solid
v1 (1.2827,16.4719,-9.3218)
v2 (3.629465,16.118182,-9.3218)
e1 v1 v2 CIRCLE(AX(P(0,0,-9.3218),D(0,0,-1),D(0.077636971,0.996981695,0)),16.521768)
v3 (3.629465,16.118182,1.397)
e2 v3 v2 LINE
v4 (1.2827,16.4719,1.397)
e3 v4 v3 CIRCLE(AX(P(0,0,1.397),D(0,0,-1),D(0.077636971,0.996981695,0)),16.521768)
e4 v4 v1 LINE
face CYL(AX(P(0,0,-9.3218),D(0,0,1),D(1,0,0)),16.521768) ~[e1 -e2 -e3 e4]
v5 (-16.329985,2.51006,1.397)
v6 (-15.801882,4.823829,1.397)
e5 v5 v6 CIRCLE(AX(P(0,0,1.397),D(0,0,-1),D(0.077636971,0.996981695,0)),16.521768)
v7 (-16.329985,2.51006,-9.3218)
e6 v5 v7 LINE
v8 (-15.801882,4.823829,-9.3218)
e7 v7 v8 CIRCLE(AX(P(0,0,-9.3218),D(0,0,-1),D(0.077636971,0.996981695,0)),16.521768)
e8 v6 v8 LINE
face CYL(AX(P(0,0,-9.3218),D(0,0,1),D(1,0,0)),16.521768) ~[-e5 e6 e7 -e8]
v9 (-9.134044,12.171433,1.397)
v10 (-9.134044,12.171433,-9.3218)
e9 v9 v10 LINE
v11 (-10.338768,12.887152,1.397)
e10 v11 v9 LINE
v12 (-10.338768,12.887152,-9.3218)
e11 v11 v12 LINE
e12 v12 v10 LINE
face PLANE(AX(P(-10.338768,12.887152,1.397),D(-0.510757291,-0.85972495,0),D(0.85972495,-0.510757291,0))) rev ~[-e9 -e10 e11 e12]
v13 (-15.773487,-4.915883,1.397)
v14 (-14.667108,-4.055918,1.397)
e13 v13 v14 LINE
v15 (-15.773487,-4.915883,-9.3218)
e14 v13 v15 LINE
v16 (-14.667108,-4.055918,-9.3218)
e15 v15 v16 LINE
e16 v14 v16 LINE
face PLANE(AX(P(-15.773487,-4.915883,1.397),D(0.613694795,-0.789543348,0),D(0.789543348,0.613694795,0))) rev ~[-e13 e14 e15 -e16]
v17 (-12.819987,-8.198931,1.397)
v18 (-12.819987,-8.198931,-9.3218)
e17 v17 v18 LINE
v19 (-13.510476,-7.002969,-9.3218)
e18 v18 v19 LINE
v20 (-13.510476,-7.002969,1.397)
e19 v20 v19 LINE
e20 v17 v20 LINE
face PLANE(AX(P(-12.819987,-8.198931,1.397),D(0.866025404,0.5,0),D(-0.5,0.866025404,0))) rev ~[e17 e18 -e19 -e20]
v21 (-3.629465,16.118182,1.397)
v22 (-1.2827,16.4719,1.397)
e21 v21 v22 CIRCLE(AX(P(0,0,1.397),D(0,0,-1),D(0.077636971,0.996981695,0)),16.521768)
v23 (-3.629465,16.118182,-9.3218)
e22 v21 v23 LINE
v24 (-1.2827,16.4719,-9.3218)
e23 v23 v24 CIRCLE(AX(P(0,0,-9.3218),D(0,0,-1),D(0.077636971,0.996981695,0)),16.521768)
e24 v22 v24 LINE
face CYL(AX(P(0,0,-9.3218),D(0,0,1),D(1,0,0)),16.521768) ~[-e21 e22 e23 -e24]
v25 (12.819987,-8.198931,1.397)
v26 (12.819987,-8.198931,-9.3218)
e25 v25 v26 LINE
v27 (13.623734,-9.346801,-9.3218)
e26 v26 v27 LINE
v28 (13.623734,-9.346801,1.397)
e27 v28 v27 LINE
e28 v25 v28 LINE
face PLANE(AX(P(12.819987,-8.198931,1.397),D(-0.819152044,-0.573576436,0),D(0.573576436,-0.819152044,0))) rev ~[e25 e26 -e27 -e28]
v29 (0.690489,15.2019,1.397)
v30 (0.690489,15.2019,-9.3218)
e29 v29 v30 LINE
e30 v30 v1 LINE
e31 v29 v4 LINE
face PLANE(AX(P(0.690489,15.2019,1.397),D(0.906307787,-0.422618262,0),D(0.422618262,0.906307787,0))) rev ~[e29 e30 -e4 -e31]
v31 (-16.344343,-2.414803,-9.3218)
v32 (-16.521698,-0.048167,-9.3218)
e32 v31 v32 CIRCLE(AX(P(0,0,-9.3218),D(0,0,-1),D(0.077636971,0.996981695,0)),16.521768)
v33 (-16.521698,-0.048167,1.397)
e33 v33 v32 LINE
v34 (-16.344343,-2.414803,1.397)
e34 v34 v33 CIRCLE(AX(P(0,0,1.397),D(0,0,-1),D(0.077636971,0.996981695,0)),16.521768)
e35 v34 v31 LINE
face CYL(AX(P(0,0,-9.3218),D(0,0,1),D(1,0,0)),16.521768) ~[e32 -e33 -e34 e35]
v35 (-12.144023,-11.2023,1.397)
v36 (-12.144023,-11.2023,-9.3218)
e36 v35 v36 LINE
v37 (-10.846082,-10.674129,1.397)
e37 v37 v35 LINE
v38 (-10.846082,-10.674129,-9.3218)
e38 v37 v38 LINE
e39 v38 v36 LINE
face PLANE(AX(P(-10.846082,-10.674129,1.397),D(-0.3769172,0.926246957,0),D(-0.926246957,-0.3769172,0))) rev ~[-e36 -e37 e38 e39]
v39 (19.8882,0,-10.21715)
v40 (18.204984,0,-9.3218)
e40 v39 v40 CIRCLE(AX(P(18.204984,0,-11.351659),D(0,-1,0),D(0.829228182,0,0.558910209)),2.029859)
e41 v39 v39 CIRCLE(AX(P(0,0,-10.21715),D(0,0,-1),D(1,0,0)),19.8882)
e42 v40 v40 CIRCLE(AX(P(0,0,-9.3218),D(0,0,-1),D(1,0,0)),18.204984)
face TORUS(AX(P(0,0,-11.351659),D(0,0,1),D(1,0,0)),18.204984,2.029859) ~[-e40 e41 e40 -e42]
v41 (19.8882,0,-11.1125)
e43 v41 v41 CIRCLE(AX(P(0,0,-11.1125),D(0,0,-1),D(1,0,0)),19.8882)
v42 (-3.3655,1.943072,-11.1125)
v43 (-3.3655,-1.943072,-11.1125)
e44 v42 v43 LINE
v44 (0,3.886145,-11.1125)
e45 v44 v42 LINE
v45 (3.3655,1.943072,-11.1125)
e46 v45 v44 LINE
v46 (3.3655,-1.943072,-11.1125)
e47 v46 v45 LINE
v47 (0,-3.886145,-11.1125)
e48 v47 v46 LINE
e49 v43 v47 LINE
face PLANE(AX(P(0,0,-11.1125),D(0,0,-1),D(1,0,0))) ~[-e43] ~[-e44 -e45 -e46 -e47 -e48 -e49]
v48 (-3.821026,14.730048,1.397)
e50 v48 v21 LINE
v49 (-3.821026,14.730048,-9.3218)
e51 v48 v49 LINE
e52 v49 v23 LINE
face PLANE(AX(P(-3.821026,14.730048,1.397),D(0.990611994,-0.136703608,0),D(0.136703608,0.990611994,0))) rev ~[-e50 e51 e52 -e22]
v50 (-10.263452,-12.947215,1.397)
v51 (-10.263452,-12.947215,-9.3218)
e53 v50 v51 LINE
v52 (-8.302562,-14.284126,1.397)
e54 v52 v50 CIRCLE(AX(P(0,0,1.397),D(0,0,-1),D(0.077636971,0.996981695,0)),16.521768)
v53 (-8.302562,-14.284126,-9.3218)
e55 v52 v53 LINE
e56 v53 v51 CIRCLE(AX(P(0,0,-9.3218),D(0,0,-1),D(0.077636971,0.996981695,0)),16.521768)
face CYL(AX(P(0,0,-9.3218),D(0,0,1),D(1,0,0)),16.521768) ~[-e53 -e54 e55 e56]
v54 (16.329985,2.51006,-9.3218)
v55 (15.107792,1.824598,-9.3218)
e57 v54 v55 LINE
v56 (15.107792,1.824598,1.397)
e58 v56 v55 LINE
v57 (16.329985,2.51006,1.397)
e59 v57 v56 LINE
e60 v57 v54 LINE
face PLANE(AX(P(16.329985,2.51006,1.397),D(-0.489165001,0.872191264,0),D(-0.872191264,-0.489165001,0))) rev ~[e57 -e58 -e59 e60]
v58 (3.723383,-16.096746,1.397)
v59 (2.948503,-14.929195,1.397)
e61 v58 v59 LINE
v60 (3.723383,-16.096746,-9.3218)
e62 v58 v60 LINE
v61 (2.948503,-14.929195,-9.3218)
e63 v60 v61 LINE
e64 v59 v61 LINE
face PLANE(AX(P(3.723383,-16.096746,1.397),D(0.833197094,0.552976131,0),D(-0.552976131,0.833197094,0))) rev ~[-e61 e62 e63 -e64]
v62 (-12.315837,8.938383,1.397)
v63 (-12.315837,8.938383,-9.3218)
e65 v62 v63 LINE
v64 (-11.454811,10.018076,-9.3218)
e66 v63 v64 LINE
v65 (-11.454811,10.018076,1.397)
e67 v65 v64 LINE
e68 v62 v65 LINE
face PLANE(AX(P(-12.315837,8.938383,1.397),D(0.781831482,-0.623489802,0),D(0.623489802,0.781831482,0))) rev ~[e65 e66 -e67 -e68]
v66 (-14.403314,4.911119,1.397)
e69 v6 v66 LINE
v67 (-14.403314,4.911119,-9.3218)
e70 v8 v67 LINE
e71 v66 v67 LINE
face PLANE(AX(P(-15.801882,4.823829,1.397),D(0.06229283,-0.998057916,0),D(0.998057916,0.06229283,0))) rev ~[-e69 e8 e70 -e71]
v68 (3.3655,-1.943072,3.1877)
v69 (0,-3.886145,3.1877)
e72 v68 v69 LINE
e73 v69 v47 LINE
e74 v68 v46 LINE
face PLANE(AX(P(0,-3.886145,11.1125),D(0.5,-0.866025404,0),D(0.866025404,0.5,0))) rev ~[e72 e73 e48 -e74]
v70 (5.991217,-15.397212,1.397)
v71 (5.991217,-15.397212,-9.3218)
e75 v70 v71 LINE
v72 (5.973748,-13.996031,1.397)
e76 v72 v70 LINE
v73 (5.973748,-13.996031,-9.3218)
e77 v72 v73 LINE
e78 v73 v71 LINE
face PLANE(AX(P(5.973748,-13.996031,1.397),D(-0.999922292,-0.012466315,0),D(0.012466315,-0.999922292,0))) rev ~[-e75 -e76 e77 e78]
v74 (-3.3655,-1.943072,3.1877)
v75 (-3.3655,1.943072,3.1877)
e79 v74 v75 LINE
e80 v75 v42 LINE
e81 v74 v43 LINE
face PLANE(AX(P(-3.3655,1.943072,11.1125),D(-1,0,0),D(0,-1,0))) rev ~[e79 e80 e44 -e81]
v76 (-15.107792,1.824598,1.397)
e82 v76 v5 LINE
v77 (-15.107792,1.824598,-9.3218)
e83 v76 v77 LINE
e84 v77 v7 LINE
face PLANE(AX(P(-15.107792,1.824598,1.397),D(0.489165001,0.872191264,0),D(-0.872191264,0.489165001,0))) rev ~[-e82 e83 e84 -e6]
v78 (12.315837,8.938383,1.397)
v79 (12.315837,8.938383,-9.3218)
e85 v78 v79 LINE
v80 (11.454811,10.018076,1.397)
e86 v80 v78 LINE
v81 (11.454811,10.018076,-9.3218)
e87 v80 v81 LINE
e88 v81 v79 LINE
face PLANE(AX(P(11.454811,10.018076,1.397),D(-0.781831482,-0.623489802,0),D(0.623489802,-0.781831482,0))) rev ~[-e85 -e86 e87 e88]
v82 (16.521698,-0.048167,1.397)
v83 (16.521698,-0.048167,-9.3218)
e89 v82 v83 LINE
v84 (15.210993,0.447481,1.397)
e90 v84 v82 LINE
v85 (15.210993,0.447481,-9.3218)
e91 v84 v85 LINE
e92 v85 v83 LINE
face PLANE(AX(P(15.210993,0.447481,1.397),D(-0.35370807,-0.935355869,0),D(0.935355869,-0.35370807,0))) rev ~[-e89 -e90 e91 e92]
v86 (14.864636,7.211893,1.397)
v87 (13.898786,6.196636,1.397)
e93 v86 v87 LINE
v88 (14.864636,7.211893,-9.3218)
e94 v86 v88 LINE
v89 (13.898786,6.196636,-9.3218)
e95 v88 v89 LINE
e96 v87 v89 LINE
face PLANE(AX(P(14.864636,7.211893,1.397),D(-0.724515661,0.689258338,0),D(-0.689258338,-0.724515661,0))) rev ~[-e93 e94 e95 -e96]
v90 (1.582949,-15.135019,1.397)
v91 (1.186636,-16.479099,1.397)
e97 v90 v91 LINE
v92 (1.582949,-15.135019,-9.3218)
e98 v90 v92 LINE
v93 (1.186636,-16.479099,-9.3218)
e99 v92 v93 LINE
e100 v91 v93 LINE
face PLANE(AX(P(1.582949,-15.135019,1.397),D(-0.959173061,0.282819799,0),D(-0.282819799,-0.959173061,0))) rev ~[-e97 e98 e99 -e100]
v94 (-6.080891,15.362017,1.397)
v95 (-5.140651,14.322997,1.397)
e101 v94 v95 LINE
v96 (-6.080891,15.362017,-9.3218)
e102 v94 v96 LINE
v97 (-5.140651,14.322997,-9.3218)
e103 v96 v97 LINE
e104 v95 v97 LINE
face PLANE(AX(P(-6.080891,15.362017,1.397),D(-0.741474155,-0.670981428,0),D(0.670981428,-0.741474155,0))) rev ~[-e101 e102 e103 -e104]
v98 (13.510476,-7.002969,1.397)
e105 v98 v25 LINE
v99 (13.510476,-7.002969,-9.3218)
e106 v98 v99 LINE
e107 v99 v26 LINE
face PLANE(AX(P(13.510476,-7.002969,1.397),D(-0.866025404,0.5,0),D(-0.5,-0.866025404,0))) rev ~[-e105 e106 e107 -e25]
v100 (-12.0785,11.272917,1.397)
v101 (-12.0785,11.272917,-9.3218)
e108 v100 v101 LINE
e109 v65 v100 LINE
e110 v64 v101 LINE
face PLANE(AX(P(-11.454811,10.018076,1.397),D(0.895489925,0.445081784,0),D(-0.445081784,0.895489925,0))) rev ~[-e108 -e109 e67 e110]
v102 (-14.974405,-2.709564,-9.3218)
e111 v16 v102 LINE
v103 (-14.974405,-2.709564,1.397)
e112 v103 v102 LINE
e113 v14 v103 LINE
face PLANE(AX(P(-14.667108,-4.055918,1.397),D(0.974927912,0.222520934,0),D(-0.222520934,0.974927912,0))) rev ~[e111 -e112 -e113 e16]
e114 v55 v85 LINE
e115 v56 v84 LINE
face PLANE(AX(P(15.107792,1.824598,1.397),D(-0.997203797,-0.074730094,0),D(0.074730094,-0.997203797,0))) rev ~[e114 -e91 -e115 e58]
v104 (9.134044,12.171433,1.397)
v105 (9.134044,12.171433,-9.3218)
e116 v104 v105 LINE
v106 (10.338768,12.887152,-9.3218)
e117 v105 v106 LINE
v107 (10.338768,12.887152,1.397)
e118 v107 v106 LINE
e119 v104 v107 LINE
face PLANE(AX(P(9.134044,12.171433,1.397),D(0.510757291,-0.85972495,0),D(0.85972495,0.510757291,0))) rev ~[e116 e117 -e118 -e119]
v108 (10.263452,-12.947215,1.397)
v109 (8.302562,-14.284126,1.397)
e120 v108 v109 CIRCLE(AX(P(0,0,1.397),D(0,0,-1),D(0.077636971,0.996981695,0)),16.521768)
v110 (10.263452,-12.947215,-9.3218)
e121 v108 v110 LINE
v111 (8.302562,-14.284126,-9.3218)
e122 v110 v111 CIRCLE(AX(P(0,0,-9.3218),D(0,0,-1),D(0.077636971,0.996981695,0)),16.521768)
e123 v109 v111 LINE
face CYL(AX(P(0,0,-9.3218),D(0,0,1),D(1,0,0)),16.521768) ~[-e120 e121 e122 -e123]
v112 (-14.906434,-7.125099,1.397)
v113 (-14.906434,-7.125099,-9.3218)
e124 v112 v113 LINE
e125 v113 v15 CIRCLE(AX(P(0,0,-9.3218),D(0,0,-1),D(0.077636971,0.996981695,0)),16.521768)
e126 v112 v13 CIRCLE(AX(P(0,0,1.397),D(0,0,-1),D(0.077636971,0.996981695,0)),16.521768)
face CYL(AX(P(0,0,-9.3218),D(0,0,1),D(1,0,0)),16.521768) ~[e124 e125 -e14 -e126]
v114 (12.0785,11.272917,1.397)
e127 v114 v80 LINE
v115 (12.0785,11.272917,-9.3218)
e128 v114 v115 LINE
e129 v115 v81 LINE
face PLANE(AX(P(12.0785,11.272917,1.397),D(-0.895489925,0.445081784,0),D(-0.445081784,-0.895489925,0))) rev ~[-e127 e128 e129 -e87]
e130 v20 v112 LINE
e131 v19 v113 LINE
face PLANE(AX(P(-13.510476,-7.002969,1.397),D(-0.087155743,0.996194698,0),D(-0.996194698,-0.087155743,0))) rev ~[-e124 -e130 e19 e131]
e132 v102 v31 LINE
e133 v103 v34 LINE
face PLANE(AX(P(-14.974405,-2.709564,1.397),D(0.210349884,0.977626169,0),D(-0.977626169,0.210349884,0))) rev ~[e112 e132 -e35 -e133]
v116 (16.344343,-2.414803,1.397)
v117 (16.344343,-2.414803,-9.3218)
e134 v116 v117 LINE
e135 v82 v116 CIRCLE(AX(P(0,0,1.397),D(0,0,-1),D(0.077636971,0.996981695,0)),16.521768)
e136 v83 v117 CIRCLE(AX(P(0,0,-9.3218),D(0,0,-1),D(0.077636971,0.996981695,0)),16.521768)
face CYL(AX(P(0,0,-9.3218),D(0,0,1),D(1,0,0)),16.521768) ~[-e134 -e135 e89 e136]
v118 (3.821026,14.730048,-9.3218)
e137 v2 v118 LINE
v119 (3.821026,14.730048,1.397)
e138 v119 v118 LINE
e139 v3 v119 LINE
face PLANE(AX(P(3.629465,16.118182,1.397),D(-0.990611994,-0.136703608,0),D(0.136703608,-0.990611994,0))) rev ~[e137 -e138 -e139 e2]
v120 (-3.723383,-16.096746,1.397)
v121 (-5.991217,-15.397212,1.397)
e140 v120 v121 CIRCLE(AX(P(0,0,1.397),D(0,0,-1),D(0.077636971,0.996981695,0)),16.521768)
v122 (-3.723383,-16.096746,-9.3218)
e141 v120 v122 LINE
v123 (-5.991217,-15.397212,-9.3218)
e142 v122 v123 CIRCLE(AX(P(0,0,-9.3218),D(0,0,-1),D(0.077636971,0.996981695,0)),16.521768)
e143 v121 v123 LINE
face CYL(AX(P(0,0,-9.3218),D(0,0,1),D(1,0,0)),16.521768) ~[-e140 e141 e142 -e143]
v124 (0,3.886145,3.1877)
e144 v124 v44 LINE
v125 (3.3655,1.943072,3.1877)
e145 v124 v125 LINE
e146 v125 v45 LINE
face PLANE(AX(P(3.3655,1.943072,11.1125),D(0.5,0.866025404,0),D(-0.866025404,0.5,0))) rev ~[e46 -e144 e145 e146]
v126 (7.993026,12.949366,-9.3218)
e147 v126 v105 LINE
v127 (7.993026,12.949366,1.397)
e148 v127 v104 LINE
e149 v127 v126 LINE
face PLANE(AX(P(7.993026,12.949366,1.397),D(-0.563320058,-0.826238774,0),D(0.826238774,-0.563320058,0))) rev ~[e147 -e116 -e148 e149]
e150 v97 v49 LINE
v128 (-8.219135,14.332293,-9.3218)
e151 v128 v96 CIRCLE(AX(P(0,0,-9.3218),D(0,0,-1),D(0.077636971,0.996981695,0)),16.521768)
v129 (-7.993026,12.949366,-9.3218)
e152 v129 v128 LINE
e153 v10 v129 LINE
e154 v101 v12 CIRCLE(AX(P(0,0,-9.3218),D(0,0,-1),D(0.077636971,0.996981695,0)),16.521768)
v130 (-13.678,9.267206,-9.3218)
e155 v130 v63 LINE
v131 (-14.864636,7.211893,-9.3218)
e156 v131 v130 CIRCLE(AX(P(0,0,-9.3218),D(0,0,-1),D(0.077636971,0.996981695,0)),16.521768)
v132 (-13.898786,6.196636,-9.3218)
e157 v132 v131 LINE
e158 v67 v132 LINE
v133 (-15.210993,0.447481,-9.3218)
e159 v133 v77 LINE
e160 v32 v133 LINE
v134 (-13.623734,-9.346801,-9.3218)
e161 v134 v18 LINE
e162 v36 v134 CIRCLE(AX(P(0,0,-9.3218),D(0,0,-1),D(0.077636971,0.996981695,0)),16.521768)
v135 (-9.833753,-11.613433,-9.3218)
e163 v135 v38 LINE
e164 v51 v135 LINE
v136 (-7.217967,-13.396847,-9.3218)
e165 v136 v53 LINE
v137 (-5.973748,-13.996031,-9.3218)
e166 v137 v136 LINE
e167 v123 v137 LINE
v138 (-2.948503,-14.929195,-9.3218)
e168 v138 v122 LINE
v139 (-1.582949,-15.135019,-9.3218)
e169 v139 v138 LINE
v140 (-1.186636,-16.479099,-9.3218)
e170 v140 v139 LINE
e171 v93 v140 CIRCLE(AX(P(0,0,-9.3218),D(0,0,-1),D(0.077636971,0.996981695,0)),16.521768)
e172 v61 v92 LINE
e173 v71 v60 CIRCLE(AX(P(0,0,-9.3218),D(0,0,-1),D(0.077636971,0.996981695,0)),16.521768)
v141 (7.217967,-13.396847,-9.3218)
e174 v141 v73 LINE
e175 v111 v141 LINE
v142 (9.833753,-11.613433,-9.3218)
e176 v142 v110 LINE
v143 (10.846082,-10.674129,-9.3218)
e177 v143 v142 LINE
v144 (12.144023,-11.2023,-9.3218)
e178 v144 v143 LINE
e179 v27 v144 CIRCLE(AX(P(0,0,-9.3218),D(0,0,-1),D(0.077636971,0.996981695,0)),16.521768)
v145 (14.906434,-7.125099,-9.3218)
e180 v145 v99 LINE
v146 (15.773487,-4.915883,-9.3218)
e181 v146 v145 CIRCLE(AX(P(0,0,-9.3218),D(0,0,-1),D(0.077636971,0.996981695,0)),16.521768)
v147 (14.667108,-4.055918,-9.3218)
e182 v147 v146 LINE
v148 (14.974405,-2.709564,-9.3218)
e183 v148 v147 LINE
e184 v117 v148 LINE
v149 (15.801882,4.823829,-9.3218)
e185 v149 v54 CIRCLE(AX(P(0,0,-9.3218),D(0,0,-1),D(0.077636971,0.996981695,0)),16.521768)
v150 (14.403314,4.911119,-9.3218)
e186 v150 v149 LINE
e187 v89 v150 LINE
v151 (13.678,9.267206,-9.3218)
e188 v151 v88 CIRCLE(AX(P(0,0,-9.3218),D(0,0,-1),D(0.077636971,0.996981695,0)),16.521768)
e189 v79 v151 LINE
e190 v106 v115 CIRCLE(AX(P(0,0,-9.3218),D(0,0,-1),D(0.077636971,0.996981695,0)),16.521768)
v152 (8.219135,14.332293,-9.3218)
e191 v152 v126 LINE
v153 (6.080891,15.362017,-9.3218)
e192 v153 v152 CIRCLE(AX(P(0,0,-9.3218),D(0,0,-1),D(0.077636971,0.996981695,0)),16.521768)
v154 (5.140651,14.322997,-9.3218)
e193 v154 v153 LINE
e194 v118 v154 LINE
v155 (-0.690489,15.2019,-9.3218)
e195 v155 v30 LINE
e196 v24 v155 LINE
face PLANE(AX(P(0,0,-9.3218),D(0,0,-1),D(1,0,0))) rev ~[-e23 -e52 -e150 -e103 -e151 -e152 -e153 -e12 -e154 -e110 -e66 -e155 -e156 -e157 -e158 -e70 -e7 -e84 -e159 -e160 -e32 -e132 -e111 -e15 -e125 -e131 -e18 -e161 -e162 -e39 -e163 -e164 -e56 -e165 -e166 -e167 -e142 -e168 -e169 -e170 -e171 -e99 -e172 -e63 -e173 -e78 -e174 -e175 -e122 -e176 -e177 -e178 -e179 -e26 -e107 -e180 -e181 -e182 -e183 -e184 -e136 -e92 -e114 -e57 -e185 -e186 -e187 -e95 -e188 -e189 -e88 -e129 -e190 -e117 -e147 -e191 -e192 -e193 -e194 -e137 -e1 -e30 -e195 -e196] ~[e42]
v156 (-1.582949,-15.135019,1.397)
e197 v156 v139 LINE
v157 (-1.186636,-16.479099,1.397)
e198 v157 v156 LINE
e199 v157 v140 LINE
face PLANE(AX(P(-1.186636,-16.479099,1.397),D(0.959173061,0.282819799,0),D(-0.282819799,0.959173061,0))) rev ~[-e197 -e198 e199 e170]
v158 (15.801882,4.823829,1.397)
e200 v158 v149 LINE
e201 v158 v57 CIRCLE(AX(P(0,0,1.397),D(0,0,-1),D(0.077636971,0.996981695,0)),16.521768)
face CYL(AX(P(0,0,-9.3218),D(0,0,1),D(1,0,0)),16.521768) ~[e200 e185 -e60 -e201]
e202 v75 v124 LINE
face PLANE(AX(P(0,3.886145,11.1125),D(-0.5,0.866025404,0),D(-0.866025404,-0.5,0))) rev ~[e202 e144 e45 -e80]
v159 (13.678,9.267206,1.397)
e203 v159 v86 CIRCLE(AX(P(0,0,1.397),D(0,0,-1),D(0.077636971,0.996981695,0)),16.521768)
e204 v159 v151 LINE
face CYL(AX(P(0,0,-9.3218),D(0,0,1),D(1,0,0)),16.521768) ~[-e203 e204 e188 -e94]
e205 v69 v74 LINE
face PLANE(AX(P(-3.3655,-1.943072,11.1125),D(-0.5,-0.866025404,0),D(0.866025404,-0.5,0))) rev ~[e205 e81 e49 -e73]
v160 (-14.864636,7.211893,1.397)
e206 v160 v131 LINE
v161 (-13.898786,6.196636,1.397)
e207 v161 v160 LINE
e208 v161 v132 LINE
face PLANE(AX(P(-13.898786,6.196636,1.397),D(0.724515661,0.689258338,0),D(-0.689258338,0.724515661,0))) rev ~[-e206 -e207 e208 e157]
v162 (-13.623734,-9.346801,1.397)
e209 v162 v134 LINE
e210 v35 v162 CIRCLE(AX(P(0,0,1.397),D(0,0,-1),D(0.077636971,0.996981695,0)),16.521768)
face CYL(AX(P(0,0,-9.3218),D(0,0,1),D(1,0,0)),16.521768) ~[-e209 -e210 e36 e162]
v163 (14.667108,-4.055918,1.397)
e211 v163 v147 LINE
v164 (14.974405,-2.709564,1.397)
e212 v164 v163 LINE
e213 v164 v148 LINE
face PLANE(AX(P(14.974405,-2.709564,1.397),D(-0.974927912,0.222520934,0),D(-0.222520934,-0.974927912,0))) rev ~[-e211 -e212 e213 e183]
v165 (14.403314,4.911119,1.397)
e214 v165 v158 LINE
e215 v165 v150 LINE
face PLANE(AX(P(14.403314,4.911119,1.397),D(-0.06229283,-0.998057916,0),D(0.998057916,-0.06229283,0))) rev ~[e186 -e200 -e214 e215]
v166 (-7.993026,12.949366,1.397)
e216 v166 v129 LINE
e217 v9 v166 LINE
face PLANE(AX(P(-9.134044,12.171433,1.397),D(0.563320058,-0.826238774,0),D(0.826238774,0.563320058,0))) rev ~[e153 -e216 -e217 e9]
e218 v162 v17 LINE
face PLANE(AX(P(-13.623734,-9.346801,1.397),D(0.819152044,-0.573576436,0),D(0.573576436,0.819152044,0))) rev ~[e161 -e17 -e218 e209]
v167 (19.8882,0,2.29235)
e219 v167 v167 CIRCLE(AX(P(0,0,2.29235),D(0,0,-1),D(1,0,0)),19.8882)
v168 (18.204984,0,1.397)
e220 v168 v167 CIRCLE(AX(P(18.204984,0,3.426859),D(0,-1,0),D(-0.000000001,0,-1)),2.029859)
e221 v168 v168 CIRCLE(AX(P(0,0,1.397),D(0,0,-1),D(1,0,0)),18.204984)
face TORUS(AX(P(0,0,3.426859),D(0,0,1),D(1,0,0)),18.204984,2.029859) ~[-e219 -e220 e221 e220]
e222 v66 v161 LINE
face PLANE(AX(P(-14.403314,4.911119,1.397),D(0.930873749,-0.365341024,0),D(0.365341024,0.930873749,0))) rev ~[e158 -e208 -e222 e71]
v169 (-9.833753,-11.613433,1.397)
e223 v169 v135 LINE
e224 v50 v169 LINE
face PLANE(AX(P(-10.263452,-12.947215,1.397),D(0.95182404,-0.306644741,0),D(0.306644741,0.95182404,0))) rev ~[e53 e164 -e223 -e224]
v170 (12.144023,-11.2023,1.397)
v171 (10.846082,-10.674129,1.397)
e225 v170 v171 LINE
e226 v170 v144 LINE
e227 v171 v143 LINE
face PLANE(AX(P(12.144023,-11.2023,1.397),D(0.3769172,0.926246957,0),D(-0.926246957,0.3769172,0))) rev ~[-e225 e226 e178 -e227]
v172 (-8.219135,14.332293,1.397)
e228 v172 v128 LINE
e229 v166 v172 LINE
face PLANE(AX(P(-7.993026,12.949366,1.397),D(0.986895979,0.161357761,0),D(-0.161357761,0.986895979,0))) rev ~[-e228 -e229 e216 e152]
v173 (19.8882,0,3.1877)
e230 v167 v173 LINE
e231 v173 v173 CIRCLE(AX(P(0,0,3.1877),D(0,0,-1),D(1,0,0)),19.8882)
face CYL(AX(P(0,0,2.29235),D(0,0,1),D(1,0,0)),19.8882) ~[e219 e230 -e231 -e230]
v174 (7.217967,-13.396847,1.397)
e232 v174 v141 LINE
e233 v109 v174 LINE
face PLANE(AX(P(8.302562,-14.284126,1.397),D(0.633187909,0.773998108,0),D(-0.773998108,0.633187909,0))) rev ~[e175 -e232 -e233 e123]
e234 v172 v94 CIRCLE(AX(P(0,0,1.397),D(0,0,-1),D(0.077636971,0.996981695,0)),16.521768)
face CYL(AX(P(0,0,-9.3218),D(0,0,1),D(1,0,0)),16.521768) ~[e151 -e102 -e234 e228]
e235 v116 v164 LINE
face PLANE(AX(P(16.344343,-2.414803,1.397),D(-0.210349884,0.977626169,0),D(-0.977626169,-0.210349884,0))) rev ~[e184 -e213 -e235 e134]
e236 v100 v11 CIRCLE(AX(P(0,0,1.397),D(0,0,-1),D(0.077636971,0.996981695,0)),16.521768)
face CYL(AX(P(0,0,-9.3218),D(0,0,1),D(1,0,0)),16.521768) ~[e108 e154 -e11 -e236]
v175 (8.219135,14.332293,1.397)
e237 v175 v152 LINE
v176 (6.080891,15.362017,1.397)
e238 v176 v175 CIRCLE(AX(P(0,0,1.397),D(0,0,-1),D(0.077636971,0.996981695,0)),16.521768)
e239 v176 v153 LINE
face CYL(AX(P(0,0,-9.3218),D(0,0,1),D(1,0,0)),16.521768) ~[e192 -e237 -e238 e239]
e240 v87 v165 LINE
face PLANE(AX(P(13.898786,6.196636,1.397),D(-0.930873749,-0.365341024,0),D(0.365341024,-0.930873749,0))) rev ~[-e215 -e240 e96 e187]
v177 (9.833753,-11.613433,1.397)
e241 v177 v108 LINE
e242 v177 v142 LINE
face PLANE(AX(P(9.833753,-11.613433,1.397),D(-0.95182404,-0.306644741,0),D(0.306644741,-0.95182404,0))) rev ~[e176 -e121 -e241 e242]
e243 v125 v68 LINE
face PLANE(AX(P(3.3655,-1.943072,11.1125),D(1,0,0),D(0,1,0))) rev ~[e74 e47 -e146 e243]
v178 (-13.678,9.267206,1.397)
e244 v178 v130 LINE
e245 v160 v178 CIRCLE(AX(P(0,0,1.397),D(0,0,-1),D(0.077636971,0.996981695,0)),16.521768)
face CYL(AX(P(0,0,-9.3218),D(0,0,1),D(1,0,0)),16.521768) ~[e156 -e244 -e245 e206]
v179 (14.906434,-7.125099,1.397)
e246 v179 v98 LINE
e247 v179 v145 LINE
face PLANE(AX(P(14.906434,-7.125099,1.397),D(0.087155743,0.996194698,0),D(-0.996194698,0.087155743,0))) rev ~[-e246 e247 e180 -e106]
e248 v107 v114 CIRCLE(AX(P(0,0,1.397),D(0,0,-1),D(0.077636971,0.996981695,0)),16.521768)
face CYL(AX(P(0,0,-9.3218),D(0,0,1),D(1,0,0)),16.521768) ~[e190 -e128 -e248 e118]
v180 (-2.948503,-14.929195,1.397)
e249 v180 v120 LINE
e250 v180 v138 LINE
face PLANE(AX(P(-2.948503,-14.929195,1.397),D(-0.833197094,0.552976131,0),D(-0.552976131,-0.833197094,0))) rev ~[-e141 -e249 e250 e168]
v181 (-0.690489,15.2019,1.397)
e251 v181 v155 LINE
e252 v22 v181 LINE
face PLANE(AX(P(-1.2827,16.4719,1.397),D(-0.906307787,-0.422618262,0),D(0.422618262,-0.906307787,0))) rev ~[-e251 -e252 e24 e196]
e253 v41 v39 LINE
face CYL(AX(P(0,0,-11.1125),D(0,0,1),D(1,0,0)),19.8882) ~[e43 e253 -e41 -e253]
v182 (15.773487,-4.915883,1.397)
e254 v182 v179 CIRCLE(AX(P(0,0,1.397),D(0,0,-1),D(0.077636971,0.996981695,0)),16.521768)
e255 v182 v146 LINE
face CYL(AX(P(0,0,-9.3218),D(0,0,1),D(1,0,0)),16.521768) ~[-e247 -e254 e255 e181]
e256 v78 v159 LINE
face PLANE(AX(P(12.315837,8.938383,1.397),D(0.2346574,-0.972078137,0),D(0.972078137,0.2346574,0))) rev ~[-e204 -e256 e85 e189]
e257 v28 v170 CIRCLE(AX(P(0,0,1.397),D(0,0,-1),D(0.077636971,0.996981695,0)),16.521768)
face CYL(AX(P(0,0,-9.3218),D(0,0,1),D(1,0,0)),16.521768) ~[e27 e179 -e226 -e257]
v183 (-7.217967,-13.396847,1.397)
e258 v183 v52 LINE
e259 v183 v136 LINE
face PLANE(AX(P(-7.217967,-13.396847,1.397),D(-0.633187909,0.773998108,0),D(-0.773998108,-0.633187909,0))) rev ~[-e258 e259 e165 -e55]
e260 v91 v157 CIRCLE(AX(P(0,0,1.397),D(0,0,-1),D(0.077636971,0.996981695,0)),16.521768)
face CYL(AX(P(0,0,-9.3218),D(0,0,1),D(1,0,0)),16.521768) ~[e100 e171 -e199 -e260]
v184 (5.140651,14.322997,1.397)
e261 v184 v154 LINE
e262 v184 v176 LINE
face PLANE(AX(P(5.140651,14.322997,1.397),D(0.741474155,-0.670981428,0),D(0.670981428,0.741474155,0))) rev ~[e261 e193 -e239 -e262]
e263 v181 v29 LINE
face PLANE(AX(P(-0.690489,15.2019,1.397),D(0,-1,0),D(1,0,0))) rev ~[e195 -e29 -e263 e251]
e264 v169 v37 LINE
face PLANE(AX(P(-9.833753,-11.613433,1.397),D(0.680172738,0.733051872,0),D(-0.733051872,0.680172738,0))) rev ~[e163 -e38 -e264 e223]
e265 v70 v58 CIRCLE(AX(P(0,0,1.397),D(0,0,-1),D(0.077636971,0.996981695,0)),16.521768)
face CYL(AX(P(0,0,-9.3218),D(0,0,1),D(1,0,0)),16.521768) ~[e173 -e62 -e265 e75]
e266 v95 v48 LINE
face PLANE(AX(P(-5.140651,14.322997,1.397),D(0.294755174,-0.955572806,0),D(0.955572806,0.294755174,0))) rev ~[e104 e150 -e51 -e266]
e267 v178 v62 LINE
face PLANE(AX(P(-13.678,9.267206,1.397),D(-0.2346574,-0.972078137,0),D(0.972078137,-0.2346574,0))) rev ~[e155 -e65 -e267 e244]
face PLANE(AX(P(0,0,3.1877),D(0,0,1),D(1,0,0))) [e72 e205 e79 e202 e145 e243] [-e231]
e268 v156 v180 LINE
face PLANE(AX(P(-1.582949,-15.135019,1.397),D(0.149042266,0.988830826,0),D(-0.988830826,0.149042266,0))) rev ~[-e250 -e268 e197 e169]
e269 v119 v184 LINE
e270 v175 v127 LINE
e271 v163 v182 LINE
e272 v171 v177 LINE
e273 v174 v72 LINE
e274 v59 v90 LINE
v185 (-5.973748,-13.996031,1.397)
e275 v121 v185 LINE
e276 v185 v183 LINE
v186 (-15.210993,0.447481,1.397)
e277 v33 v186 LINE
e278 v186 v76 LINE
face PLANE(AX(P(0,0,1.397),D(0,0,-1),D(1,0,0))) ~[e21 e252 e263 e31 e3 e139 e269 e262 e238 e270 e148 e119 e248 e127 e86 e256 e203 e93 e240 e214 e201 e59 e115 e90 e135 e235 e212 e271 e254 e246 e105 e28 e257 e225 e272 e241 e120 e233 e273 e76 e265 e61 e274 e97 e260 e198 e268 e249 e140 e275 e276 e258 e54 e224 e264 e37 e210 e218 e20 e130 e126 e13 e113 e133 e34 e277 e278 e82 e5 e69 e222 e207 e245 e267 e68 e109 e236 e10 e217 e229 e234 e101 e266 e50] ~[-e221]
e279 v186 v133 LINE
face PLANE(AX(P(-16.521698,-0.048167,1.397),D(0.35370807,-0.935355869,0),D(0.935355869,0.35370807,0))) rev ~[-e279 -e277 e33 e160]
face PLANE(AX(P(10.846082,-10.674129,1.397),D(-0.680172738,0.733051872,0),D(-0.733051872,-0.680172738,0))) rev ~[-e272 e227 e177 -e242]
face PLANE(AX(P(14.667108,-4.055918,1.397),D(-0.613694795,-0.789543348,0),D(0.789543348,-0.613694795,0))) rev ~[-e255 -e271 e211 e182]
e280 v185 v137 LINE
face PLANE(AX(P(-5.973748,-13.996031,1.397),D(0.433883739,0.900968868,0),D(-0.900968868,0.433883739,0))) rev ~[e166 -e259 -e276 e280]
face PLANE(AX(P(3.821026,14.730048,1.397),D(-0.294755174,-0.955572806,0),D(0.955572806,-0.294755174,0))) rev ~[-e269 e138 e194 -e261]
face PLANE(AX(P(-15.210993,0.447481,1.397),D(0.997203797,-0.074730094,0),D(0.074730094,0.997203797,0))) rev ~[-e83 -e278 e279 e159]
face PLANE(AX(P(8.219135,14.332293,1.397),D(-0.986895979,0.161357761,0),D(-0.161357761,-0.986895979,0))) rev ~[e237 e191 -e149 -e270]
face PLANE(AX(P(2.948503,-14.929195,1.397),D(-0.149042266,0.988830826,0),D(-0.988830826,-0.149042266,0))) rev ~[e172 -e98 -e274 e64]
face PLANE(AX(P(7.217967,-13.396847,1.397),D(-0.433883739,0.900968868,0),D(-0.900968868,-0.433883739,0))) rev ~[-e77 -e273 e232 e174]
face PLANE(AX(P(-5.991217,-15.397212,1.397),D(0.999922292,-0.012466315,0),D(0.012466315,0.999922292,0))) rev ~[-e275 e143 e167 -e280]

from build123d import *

# Parameters (mm, degrees)
CUT_EXTRUDE1_START = 1.397
CUT_EXTRUDE1_DEPTH = 10.7188
CIRPATTERN1_COUNT  = 21
SKETCH4_R          = 1.5875
CUT_EXTRUDE2_DEPTH = 31.241836167
CUT_EXTRUDE3_DEPTH = 1.190625
CIRPATTERN2_COUNT  = 2
CIRPATTERN2_ANGLE  = 90
CUT_EXTRUDE4_DEPTH = 50.8
SKETCH8_R          = 12.7
CUT_EXTRUDE5_DEPTH = 50.8


with BuildPart() as part:
    # Sketch2 → Revolve1 (revolve)
    with BuildSketch(Plane(origin=(0, 0, 0), x_dir=(0, 0, -1), z_dir=(1, 0, 0)), mode=Mode.PRIVATE) as revolve1_sk:
        with BuildLine():
            Line((-11.1125, 3.175), (11.1125, 3.175))
            Line((11.1125, 3.175), (11.1125, 19.8882))
            Line((11.1125, 19.8882), (10.21715, 19.8882))
            ThreePointArc((10.21715, 19.8882), (9.559562343, 19.158250378), (9.3218, 18.204983865))
            Line((9.3218, 18.204983865), (9.3218, 16.521767729))
            Line((9.3218, 16.521767729), (-1.397, 16.521767729))
            Line((-1.397, 16.521767729), (-1.397, 18.204983865))
            ThreePointArc((-1.397, 18.204983865), (-1.634762343, 19.158250378), (-2.29235, 19.8882))
            Line((-2.29235, 19.8882), (-3.1877, 19.8882))
            Line((-3.1877, 19.8882), (-3.1877, 11.9126))
            Line((-3.1877, 11.9126), (-11.1125, 11.9126))
            Line((-11.1125, 11.9126), (-11.1125, 3.175))
        make_face()
    revolve(revolve1_sk.sketch.rotate(Axis((0, 0, 11.1125), (0, 0, -1)), 90), axis=Axis((0, 0, 11.1125), (0, 0, -1)))

    # Sketch3 → Cut-Extrude1 (cut)
    with BuildSketch(Plane.XY.offset(CUT_EXTRUDE1_START)):
        with BuildLine():
            Line((-0.690489274, 15.2019), (0.690489274, 15.2019))
            Line((0.690489274, 15.2019), (1.2827, 16.4719))
            ThreePointArc((1.2827, 16.4719), (0, 16.521767729), (-1.2827, 16.4719))
            Line((-1.2827, 16.4719), (-0.690489274, 15.2019))
        make_face()
    cut_extrude1 = extrude(amount=-CUT_EXTRUDE1_DEPTH, mode=Mode.SUBTRACT)

    # CirPattern1: Cut-Extrude1 ×21 about axis
    cirpattern1_axis = Axis((0, 0, 0), (0, 0, 1))
    for i in range(1, CIRPATTERN1_COUNT):
        add(cut_extrude1.rotate(cirpattern1_axis, i * 360 / CIRPATTERN1_COUNT), mode=Mode.SUBTRACT)

    # Sketch4 → Cut-Extrude2 (cut, through all)
    with BuildSketch(Plane(origin=(0, 0, 0), x_dir=(1, 0, 0), z_dir=(0, 1, 0))):
        with Locations(Location((0, -7.1501, 0), (0, 0, 90))):
            Circle(SKETCH4_R)
    cut_extrude2 = extrude(amount=CUT_EXTRUDE2_DEPTH, mode=Mode.SUBTRACT)

    # Sketch5 → Revolve2 (revolve)
    with BuildSketch(Plane.XY.offset(7.1501), mode=Mode.PRIVATE) as revolve2_sk:
        Polygon((1.0795, 11.806349246), (1.5875, 11.298349246), (1.5875, 3.81), (0.9525, 3.175), (0, 3.175), (0, 11.806349246), align=None)
    revolve2 = revolve(revolve2_sk.sketch.rotate(Axis((0, 0, 7.1501), (0, 1, 0)), 90), axis=Axis((0, 0, 7.1501), (0, 1, 0)))

    # Sketch6 → Cut-Extrude3 (cut)
    with BuildSketch(Plane(origin=(0, 11.806349246, 0), x_dir=(1, 0, 0), z_dir=(0, 1, 0))):
        Polygon((0, -6.233556448), (-0.79375, -6.691828224), (-0.79375, -7.608371776), (0, -8.066643552), (0.79375, -7.608371776), (0.79375, -6.691828224), align=None)
    cut_extrude3 = extrude(amount=-CUT_EXTRUDE3_DEPTH, mode=Mode.SUBTRACT)

    # CirPattern2: Cut-Extrude2, Revolve2, Cut-Extrude3 ×2 about axis
    cirpattern2_axis = Axis((0, 0, 0), (0, 0, -1))
    add([cut_extrude2.rotate(cirpattern2_axis, i * CIRPATTERN2_ANGLE / (CIRPATTERN2_COUNT - 1)) for i in range(1, CIRPATTERN2_COUNT)], mode=Mode.SUBTRACT)
    add([revolve2.rotate(cirpattern2_axis, i * CIRPATTERN2_ANGLE / (CIRPATTERN2_COUNT - 1)) for i in range(1, CIRPATTERN2_COUNT)])
    add([cut_extrude3.rotate(cirpattern2_axis, i * CIRPATTERN2_ANGLE / (CIRPATTERN2_COUNT - 1)) for i in range(1, CIRPATTERN2_COUNT)], mode=Mode.SUBTRACT)

    # Sketch7 → Cut-Extrude4 (cut)
    with BuildSketch(Plane.XY.offset(11.1125)):
        Polygon((0, 3.886144662), (-3.3655, 1.943072331), (-3.3655, -1.943072331), (0, -3.886144662), (3.3655, -1.943072331), (3.3655, 1.943072331), align=None)
    extrude(amount=-CUT_EXTRUDE4_DEPTH, mode=Mode.SUBTRACT)

    # Sketch8 → Cut-Extrude5 (cut)
    with BuildSketch(Plane.XY.offset(3.1877)):
        Circle(SKETCH8_R)
    extrude(amount=CUT_EXTRUDE5_DEPTH, mode=Mode.SUBTRACT)


solid = part.part
